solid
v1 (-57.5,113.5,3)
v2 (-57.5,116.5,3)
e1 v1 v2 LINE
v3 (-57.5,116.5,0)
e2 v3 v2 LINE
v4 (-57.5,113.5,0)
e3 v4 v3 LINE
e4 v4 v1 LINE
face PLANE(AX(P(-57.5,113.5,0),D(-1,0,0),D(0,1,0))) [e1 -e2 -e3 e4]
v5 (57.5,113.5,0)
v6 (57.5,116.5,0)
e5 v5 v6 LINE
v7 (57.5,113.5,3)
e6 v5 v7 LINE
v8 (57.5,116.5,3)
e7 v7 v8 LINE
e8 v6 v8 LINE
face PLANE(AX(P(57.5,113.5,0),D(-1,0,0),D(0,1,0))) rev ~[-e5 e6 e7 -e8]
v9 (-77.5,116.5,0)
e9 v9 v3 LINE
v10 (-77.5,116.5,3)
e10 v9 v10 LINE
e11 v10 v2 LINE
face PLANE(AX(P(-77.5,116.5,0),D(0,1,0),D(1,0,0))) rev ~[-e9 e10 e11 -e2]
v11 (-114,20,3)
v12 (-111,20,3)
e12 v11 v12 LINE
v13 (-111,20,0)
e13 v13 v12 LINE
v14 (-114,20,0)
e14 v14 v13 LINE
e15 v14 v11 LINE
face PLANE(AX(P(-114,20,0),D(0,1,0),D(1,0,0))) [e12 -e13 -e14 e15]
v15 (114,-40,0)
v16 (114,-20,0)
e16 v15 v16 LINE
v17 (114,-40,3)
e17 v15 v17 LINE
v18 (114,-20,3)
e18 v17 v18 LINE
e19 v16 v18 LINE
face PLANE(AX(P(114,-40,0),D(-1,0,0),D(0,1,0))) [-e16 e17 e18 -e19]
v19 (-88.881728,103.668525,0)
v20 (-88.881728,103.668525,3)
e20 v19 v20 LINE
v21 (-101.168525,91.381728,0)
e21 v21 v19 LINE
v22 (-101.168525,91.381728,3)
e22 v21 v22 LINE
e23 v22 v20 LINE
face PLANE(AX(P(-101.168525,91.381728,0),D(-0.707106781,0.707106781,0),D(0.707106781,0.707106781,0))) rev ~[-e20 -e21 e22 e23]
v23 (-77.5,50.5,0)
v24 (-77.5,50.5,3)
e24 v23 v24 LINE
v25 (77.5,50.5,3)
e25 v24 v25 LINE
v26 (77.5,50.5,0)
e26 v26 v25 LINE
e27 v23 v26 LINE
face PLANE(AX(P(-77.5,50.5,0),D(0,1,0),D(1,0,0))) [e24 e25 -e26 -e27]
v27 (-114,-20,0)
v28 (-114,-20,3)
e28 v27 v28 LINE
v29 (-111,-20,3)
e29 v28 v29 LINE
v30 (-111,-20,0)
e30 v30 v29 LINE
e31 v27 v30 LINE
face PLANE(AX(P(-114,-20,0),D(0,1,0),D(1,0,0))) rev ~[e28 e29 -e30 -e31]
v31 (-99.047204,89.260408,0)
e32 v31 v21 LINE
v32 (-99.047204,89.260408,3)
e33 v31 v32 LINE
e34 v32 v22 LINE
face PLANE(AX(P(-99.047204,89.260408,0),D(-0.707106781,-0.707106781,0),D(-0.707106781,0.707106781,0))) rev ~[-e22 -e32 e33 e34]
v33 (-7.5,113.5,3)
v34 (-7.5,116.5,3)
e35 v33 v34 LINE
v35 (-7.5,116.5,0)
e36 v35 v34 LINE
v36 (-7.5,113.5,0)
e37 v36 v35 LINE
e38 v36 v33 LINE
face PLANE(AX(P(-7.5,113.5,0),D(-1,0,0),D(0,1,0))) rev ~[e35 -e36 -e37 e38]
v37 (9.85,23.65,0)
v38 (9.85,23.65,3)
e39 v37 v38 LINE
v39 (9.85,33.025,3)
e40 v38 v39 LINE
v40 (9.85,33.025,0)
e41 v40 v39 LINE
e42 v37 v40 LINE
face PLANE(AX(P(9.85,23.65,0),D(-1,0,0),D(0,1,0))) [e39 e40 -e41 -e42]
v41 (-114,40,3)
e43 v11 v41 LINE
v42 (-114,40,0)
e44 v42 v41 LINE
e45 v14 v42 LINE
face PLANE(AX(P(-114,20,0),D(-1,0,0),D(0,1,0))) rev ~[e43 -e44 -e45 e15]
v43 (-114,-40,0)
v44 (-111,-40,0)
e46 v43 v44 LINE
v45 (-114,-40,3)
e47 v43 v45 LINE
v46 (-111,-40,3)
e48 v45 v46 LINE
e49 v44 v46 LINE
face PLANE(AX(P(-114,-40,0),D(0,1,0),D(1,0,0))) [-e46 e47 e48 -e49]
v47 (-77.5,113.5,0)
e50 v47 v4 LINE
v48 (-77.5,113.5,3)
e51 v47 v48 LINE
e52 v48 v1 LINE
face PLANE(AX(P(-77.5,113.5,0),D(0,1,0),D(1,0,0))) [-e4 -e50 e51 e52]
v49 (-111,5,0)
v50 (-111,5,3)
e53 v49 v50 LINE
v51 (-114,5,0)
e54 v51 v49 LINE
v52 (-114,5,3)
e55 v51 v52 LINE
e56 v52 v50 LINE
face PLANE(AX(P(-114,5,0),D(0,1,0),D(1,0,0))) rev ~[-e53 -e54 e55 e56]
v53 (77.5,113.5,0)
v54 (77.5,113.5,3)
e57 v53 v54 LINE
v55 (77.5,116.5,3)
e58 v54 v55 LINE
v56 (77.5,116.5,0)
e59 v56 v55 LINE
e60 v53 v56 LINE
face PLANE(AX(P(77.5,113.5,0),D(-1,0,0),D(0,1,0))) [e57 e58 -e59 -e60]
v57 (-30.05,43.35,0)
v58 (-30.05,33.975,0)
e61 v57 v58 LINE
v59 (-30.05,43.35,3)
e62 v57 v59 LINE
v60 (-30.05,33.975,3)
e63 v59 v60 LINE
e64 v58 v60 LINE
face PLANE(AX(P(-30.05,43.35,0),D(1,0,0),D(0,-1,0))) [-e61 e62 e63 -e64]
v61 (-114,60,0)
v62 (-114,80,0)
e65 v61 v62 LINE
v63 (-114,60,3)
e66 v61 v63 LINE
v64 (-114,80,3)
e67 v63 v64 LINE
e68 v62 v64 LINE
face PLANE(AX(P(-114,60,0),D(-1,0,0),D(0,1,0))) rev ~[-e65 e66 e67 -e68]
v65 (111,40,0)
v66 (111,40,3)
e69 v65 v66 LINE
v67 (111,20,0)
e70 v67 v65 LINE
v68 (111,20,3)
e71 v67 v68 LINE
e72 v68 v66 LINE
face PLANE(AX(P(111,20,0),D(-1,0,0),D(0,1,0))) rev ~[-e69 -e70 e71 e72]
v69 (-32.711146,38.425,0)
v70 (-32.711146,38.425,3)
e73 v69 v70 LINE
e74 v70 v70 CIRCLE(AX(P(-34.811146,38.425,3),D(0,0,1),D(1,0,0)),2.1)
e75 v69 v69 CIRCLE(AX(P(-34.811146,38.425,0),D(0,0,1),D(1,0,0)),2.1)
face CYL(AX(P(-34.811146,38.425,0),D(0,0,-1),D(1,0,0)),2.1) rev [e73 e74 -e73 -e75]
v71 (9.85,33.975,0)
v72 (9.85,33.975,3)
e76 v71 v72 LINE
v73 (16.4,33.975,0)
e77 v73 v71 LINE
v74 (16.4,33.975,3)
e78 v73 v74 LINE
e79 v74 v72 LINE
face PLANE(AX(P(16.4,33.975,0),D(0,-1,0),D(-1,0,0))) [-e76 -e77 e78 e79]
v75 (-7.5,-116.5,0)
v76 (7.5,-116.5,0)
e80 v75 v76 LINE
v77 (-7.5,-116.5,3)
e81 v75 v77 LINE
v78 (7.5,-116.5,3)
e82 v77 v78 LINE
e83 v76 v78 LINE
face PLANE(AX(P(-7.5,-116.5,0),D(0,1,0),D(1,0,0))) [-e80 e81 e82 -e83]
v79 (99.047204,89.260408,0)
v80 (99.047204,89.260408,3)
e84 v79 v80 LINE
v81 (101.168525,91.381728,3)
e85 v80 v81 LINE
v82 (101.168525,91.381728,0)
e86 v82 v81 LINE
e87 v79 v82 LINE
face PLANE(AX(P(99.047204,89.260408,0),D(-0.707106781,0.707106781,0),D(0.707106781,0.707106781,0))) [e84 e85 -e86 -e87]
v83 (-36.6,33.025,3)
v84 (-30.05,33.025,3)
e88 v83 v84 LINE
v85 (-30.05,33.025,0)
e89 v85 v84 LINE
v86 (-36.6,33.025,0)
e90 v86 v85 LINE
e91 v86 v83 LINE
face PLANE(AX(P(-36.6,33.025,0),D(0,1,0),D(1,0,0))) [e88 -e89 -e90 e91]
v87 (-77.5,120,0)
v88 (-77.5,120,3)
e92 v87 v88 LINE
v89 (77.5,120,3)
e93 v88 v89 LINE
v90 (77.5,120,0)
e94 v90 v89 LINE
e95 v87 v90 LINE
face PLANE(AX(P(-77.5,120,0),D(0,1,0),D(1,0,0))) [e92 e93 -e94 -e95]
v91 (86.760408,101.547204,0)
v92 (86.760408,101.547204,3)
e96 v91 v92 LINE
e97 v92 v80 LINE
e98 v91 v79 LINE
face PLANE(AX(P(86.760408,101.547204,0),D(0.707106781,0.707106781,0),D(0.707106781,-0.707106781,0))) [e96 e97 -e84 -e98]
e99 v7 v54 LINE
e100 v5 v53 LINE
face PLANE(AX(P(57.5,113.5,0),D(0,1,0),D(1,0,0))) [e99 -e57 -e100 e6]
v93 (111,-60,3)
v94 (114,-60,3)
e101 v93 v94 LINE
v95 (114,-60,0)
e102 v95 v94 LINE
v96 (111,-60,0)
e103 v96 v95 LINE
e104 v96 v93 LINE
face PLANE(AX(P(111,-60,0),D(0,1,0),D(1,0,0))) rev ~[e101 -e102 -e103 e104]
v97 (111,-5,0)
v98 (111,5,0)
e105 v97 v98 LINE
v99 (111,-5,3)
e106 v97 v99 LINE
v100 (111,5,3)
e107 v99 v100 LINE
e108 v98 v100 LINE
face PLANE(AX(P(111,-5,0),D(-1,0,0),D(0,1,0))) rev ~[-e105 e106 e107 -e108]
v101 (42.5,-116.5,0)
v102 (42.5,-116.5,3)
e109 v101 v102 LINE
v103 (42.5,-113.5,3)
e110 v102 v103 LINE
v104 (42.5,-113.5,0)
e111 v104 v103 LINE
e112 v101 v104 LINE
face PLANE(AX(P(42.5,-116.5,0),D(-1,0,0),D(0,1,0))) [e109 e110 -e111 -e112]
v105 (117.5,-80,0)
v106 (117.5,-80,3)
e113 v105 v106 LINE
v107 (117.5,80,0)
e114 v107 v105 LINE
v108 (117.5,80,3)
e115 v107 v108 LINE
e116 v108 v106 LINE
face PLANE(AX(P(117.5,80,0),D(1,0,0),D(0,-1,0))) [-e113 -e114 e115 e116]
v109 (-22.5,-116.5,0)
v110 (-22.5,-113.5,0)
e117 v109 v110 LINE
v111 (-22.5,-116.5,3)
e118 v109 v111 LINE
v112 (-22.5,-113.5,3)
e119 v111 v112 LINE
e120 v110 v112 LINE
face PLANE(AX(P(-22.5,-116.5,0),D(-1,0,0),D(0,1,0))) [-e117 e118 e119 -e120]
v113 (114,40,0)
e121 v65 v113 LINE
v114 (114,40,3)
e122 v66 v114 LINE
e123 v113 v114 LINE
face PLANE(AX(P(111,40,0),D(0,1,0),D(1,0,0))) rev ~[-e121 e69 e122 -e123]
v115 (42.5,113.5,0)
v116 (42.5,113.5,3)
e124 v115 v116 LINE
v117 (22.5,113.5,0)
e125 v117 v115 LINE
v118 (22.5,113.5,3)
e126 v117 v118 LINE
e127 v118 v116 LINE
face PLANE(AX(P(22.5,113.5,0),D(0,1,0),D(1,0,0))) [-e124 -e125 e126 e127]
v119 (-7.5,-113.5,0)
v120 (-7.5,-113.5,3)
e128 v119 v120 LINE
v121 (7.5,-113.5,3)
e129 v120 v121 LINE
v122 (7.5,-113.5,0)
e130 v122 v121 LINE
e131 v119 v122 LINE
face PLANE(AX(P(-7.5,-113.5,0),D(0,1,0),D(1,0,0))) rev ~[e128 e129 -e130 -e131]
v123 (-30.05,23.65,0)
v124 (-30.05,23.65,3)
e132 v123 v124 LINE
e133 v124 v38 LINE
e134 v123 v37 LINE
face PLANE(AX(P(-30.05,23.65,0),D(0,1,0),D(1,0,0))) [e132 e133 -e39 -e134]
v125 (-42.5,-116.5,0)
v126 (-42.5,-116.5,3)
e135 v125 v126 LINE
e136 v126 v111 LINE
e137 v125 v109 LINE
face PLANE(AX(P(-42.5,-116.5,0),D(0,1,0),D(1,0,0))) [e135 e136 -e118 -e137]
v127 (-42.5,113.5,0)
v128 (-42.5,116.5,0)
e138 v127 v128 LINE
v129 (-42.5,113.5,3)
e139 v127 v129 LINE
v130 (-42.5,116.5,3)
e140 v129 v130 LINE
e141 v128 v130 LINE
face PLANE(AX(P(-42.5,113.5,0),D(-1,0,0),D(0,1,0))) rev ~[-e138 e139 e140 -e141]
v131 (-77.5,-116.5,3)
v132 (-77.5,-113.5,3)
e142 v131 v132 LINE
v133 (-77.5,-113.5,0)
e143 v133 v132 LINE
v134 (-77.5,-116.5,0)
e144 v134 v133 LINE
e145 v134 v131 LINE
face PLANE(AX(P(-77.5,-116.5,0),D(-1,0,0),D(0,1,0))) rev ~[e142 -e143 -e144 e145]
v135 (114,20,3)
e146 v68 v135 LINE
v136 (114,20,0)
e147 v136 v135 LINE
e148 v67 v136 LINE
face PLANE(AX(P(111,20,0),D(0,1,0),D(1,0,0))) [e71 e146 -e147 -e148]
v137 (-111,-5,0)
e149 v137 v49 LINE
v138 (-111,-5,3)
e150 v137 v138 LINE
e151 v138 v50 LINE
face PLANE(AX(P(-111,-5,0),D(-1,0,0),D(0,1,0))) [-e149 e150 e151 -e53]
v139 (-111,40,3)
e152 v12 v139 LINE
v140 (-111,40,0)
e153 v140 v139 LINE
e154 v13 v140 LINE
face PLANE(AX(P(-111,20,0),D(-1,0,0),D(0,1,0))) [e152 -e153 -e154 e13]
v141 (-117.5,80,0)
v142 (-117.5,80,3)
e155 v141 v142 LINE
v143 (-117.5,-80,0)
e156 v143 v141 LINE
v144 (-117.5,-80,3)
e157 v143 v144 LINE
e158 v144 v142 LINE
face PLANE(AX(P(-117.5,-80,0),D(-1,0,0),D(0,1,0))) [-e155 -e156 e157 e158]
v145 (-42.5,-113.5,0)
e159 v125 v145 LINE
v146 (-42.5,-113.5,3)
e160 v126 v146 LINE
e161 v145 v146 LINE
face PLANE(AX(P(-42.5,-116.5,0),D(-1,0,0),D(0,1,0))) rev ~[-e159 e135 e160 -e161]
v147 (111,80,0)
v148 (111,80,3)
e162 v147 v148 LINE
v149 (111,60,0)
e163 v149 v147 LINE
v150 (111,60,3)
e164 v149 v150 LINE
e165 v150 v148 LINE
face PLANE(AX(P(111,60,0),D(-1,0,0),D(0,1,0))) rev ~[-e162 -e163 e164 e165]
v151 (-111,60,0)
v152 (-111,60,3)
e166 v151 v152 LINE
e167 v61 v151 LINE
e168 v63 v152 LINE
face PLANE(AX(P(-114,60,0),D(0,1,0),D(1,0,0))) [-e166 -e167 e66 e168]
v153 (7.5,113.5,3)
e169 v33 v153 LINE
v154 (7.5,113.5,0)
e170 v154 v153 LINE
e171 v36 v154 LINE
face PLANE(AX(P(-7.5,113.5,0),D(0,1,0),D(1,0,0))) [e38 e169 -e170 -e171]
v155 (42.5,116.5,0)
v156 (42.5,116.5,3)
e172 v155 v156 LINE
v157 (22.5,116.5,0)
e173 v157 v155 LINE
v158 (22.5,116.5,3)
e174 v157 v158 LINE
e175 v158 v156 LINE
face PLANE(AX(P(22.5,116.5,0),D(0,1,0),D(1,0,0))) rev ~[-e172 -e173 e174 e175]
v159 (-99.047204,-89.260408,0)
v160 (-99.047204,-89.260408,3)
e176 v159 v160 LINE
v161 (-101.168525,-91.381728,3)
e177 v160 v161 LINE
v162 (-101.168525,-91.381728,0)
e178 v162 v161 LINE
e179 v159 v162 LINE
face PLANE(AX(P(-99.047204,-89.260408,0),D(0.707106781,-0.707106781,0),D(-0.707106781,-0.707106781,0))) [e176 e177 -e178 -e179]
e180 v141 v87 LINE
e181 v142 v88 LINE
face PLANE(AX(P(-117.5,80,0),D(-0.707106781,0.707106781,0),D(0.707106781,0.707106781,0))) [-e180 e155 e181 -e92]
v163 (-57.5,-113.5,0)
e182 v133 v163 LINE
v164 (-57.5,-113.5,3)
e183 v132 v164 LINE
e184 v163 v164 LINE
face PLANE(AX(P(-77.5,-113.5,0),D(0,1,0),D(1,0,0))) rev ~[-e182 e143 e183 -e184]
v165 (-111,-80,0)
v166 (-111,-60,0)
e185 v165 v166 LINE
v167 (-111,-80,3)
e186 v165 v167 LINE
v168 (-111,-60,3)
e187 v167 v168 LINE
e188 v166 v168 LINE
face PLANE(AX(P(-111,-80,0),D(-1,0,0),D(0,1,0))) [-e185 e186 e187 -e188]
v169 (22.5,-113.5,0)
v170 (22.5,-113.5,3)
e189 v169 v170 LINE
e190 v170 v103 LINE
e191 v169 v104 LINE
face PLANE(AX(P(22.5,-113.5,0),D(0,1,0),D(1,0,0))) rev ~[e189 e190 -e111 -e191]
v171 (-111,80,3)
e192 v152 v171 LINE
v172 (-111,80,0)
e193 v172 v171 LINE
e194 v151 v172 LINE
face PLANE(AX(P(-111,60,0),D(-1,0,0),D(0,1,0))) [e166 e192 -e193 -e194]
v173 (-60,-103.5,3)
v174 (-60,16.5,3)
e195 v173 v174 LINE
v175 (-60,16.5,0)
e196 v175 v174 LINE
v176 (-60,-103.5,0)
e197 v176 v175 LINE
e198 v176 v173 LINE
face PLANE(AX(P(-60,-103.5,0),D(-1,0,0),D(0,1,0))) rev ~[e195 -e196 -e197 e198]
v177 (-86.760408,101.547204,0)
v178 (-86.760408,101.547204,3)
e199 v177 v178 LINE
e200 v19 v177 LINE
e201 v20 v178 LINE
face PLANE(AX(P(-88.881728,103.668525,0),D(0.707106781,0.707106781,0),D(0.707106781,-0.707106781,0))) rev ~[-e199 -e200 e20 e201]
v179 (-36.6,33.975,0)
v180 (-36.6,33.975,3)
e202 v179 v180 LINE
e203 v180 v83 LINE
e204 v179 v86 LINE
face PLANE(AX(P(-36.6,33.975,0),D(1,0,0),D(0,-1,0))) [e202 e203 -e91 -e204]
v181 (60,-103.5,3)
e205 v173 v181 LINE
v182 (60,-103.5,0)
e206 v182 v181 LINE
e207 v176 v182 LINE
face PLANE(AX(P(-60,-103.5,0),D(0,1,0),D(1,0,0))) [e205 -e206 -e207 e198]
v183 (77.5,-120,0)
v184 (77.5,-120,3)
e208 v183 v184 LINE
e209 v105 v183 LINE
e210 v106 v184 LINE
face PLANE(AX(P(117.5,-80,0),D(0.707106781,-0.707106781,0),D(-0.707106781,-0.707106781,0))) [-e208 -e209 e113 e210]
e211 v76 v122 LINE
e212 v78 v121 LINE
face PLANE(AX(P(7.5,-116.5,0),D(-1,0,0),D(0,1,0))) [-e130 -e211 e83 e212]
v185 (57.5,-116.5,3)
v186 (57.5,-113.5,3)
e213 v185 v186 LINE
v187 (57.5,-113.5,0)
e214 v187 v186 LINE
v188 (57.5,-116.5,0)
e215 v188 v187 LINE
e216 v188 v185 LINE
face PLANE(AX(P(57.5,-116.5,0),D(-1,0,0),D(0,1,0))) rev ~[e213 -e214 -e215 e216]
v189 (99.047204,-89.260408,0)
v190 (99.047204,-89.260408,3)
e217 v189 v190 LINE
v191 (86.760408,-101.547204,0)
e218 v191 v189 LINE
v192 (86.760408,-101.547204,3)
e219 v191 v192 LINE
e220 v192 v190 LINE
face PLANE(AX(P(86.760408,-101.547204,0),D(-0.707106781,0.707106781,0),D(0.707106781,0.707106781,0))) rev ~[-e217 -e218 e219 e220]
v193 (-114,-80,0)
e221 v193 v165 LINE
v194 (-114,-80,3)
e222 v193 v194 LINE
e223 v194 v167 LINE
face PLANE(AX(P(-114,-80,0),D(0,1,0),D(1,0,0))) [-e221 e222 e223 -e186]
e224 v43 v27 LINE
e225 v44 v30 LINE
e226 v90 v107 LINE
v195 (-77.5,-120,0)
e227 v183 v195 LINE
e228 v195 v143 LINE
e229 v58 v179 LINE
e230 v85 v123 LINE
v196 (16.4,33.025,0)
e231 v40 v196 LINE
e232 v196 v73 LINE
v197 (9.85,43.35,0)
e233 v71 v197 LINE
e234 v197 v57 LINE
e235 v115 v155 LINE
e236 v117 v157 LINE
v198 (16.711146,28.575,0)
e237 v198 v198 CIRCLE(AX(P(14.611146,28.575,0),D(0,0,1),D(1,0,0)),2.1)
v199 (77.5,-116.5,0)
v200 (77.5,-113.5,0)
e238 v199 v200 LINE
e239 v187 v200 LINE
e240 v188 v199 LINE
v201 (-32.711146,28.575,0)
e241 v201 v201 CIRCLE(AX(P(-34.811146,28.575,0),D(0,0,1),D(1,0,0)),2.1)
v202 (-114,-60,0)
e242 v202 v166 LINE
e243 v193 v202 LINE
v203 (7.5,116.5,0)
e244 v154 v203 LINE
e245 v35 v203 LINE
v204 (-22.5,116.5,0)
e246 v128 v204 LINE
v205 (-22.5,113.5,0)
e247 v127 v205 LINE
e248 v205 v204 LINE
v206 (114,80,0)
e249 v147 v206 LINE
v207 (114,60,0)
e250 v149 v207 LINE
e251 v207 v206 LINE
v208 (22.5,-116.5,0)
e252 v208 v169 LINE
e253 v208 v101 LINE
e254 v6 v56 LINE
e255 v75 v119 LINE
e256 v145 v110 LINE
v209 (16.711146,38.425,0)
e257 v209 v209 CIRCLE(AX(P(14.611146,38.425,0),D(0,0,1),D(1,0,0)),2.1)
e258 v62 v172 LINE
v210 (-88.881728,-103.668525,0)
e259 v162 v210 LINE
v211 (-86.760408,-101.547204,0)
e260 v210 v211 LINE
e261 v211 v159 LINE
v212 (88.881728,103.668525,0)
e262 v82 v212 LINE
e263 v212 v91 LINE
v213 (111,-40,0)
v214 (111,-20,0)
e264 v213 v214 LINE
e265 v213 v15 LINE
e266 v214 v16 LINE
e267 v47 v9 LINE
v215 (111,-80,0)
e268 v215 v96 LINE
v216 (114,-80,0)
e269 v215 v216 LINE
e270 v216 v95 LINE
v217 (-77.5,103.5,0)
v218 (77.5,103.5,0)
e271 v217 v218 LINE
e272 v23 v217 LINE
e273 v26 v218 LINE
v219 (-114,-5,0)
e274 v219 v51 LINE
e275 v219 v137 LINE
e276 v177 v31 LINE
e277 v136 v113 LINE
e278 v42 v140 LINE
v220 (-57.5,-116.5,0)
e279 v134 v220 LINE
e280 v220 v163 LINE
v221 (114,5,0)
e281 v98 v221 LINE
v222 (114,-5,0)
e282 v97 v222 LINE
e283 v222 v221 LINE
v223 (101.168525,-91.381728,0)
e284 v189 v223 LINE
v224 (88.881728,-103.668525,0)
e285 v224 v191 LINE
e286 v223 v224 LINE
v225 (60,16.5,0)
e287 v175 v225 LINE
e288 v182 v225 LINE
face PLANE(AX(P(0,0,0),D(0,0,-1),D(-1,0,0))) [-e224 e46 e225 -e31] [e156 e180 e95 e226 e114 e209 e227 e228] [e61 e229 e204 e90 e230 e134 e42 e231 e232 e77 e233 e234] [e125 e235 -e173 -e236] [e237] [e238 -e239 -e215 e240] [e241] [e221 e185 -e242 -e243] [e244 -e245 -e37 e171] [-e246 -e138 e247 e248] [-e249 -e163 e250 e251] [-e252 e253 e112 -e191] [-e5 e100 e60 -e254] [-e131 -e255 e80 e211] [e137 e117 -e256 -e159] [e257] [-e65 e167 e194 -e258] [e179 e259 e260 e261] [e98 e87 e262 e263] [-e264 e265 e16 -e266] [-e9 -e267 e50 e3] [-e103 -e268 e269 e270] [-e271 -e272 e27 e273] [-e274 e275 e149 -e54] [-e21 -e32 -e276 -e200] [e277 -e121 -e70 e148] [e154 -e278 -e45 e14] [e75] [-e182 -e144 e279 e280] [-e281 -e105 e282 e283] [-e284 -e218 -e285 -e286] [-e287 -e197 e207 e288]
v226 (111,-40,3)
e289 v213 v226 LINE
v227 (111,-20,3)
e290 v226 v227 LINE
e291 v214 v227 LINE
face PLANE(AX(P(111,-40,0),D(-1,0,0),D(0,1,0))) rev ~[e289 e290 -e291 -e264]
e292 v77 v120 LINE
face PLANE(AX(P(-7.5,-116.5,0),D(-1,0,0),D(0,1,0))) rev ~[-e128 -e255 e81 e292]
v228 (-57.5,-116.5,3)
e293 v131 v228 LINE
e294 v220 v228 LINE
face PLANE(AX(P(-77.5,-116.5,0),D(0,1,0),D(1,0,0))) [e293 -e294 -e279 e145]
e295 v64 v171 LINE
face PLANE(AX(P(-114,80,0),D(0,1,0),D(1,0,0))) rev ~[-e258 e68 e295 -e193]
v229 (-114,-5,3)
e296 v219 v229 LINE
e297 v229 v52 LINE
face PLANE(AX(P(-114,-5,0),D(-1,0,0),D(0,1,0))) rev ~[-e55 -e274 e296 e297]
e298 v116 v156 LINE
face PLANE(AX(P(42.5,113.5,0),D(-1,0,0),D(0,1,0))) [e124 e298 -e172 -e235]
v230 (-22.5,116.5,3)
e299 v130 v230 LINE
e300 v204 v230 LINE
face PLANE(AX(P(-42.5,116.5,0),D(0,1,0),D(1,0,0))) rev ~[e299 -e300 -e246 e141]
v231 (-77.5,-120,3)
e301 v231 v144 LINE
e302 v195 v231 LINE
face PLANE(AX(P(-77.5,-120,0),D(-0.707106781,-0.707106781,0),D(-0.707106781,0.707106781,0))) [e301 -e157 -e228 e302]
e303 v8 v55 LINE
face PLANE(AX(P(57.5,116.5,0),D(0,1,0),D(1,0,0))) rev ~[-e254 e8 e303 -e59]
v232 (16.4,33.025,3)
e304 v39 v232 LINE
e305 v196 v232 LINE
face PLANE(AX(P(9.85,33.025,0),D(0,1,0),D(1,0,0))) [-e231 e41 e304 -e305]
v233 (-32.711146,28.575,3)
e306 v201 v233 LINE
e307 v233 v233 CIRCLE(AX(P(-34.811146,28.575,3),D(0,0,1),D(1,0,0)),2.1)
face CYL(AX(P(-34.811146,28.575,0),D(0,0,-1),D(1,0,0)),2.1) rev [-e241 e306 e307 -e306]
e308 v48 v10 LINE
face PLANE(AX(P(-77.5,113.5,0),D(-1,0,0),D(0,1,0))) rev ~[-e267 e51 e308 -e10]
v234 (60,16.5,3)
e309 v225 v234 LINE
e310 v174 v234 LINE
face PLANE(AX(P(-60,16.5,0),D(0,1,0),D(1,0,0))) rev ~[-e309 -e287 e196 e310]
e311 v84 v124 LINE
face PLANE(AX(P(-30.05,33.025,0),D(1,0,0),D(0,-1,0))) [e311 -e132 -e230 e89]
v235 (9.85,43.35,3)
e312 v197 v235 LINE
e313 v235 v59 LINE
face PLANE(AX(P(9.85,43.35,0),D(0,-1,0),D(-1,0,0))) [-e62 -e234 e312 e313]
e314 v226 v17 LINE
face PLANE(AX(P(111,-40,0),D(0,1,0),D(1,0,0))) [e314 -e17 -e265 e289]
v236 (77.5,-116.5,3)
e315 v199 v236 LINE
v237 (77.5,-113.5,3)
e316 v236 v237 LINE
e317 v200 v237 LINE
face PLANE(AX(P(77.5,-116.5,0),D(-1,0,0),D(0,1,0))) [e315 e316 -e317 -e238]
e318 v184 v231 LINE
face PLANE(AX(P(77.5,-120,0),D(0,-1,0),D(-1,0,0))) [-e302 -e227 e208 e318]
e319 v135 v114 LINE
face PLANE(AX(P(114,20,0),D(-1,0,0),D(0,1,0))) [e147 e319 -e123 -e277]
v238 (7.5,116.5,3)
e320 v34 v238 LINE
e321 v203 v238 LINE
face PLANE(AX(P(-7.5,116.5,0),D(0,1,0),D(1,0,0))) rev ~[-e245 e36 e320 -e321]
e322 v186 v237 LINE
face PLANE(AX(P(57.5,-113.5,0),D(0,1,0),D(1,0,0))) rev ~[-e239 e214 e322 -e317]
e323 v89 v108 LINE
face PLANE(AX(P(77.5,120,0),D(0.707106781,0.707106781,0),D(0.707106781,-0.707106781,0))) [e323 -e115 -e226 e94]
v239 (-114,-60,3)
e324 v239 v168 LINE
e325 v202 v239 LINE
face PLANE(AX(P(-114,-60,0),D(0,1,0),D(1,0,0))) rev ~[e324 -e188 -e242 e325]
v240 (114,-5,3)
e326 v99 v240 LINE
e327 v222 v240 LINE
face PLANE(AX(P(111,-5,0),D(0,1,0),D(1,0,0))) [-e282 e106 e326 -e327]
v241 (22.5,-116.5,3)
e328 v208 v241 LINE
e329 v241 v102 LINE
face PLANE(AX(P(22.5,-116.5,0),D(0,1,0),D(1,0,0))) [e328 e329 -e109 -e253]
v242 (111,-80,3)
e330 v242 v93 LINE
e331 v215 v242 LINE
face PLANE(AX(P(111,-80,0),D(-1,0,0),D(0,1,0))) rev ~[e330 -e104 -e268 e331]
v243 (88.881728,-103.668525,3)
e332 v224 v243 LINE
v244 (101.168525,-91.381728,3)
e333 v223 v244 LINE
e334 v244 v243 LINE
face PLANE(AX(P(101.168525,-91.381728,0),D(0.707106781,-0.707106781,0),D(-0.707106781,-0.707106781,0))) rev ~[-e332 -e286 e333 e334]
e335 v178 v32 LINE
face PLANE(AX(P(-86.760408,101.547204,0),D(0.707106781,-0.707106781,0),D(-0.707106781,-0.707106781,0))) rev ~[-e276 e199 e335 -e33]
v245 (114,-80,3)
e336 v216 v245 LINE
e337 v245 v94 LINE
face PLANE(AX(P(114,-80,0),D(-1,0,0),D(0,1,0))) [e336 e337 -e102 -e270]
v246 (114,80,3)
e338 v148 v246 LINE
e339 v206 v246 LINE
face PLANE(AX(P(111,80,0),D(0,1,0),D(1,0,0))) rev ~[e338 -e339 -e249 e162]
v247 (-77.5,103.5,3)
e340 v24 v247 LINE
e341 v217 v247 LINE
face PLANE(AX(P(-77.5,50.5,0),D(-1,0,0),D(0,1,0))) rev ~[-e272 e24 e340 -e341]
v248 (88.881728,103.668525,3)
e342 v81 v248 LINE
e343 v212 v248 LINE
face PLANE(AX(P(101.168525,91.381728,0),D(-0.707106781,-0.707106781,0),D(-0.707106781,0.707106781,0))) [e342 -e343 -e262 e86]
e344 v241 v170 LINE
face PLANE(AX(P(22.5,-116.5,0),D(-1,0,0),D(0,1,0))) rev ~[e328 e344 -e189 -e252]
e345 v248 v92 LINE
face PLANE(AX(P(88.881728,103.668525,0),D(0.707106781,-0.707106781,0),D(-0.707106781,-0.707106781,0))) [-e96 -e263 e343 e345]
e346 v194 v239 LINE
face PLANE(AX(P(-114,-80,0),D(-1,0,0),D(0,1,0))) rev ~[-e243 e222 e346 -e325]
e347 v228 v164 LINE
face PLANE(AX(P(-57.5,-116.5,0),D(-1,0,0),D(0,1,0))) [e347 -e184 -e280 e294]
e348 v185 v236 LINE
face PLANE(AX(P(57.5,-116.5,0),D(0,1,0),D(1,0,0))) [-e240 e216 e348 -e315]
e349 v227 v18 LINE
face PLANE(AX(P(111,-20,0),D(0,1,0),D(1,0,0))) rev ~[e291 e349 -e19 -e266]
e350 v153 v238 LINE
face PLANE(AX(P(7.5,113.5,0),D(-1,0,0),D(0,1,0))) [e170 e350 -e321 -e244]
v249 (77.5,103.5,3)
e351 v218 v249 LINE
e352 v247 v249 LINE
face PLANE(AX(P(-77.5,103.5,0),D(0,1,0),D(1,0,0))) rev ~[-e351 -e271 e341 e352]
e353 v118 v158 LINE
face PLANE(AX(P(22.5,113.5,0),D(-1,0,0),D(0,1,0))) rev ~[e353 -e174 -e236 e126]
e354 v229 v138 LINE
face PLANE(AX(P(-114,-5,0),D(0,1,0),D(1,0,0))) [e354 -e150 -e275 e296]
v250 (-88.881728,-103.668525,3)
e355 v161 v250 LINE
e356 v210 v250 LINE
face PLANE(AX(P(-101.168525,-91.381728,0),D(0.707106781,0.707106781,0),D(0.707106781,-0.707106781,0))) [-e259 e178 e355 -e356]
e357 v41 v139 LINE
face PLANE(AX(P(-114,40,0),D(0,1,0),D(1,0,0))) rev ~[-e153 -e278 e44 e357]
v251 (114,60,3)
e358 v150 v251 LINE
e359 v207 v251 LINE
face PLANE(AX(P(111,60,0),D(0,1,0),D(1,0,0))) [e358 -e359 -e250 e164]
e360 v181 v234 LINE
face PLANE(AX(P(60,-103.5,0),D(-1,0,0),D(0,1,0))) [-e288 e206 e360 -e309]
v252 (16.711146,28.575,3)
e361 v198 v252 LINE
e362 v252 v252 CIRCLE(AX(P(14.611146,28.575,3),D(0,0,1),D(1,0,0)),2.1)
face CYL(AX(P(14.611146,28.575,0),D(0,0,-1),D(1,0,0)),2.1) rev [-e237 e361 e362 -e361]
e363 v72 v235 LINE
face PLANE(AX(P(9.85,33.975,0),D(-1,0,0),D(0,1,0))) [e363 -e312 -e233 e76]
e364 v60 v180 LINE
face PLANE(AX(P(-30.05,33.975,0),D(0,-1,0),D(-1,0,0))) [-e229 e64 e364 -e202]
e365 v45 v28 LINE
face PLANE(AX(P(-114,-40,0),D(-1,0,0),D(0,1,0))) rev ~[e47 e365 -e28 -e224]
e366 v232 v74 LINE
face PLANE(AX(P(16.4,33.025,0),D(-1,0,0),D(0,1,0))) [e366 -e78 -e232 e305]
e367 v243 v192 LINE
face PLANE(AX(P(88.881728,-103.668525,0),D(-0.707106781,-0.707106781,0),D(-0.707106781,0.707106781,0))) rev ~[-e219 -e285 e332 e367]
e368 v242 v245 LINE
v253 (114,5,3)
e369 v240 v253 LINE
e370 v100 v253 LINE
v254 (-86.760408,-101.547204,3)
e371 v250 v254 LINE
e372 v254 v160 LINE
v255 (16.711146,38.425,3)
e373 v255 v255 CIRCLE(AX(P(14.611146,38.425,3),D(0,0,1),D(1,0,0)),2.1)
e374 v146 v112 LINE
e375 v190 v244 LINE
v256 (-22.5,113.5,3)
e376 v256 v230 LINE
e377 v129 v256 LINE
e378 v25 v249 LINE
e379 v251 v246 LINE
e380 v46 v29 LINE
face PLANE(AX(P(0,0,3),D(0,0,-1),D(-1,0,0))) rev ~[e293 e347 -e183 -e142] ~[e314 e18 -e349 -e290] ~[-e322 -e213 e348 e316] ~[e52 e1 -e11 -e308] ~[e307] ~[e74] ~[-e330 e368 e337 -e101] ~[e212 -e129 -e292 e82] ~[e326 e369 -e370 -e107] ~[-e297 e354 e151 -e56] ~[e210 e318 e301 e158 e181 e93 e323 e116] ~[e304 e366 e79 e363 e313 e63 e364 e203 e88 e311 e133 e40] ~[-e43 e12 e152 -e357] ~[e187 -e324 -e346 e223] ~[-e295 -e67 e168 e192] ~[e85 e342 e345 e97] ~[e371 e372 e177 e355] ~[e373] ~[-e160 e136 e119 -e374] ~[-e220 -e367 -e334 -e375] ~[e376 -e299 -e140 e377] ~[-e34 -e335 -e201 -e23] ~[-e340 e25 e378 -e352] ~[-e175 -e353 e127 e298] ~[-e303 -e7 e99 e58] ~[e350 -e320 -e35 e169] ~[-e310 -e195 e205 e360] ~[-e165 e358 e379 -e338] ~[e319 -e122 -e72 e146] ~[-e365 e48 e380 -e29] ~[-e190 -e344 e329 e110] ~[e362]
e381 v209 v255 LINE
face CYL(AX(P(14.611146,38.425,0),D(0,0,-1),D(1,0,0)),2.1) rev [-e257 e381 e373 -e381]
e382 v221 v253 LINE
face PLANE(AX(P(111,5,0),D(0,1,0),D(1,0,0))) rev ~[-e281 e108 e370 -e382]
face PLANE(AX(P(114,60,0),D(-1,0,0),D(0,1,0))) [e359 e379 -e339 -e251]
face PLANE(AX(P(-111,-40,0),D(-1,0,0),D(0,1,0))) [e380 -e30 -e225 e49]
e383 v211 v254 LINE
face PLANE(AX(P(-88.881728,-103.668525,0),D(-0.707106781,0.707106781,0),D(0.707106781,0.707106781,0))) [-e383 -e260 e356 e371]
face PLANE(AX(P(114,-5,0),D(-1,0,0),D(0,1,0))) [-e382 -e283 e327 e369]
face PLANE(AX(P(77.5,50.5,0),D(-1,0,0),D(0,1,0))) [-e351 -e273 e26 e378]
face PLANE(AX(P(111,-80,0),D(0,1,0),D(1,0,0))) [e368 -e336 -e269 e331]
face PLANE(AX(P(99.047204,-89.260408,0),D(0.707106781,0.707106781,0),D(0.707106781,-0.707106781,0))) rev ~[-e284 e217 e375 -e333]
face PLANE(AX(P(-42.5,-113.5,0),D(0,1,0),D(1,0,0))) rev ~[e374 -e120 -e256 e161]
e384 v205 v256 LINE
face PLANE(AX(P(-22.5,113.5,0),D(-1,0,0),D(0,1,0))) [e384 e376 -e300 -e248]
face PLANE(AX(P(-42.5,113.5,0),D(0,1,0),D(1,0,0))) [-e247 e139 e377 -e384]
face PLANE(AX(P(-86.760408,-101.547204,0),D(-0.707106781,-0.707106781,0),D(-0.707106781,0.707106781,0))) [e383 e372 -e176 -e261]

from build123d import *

# Parameters (mm, degrees)
SKICA2_R                = 2.1
SKICA2_W                = 3
SKICA2_H                = 20
SKICA2_H_2              = 10
SKICA2_W_2              = 20
SKICA2_H_3              = 3
SKICA2_W_3              = 15
SKICA2_W_4              = 155
SKICA2_H_4              = 53
SKICA2_W_5              = 120
SKICA2_H_5              = 120
P_IDAT_VYSUNUT_M1_DEPTH = 3


with BuildPart() as part:
    # Skica2 → Přidat vysunutím1 (new body)
    with BuildSketch(Plane.XY):
        Polygon((-117.5, 80), (-77.5, 120), (77.5, 120), (117.5, 80), (117.5, -80), (77.5, -120), (-77.5, -120), (-117.5, -80), align=None)
        with Locations((14.611145618, 38.425)):
            Circle(SKICA2_R, mode=Mode.SUBTRACT)
        with Locations((14.611145618, 28.575)):
            Circle(SKICA2_R, mode=Mode.SUBTRACT)
        with Locations((-34.811145618, 28.575)):
            Circle(SKICA2_R, mode=Mode.SUBTRACT)
        with Locations((-34.811145618, 38.425)):
            Circle(SKICA2_R, mode=Mode.SUBTRACT)
        with Locations((-112.5, 70)):
            Rectangle(SKICA2_W, SKICA2_H, mode=Mode.SUBTRACT)
        with Locations((-112.5, 30)):
            Rectangle(SKICA2_W, SKICA2_H, mode=Mode.SUBTRACT)
        with Locations((-112.5, 0)):
            Rectangle(SKICA2_W, SKICA2_H_2, mode=Mode.SUBTRACT)
        with Locations((-112.5, -30)):
            Rectangle(SKICA2_W, SKICA2_H, mode=Mode.SUBTRACT)
        with Locations((-112.5, -70)):
            Rectangle(SKICA2_W, SKICA2_H, mode=Mode.SUBTRACT)
        with Locations((112.5, -70)):
            Rectangle(SKICA2_W, SKICA2_H, mode=Mode.SUBTRACT)
        with Locations((112.5, -30)):
            Rectangle(SKICA2_W, SKICA2_H, mode=Mode.SUBTRACT)
        with Locations((112.5, 0)):
            Rectangle(SKICA2_W, SKICA2_H_2, mode=Mode.SUBTRACT)
        with Locations((112.5, 30)):
            Rectangle(SKICA2_W, SKICA2_H, mode=Mode.SUBTRACT)
        with Locations((112.5, 70)):
            Rectangle(SKICA2_W, SKICA2_H, mode=Mode.SUBTRACT)
        with Locations((-67.5, 115)):
            Rectangle(SKICA2_W_2, SKICA2_H_3, mode=Mode.SUBTRACT)
        with Locations((-32.5, 115)):
            Rectangle(SKICA2_W_2, SKICA2_H_3, mode=Mode.SUBTRACT)
        with Locations((0, 115)):
            Rectangle(SKICA2_W_3, SKICA2_H_3, mode=Mode.SUBTRACT)
        with Locations((32.5, 115)):
            Rectangle(SKICA2_W_2, SKICA2_H_3, mode=Mode.SUBTRACT)
        with Locations((67.5, 115)):
            Rectangle(SKICA2_W_2, SKICA2_H_3, mode=Mode.SUBTRACT)
        with Locations((67.5, -115)):
            Rectangle(SKICA2_W_2, SKICA2_H_3, mode=Mode.SUBTRACT)
        with Locations((32.5, -115)):
            Rectangle(SKICA2_W_2, SKICA2_H_3, mode=Mode.SUBTRACT)
        with Locations((0, -115)):
            Rectangle(SKICA2_W_3, SKICA2_H_3, mode=Mode.SUBTRACT)
        with Locations((-32.5, -115)):
            Rectangle(SKICA2_W_2, SKICA2_H_3, mode=Mode.SUBTRACT)
        with Locations((-67.5, -115)):
            Rectangle(SKICA2_W_2, SKICA2_H_3, mode=Mode.SUBTRACT)
        Polygon((101.168524548, -91.381727984), (88.881727984, -103.668524548), (86.76040764, -101.547204204), (99.047204204, -89.26040764), align=None, mode=Mode.SUBTRACT)
        Polygon((-86.76040764, -101.547204204), (-99.047204204, -89.26040764), (-101.168524548, -91.381727984), (-88.881727984, -103.668524548), align=None, mode=Mode.SUBTRACT)
        Polygon((86.76040764, 101.547204204), (99.047204204, 89.26040764), (101.168524548, 91.381727984), (88.881727984, 103.668524548), align=None, mode=Mode.SUBTRACT)
        Polygon((-88.881727984, 103.668524548), (-86.76040764, 101.547204204), (-99.047204204, 89.26040764), (-101.168524548, 91.381727984), align=None, mode=Mode.SUBTRACT)
        with Locations((0, 77)):
            Rectangle(SKICA2_W_4, SKICA2_H_4, mode=Mode.SUBTRACT)
        with Locations((0, -43.5)):
            Rectangle(SKICA2_W_5, SKICA2_H_5, mode=Mode.SUBTRACT)
        Polygon((-30.05, 43.35), (-30.05, 33.975), (-36.6, 33.975), (-36.6, 33.025), (-30.05, 33.025), (-30.05, 23.65), (9.85, 23.65), (9.85, 33.025), (16.4, 33.025), (16.4, 33.975), (9.85, 33.975), (9.85, 43.35), align=None, mode=Mode.SUBTRACT)
    extrude(amount=P_IDAT_VYSUNUT_M1_DEPTH)


solid = part.part
